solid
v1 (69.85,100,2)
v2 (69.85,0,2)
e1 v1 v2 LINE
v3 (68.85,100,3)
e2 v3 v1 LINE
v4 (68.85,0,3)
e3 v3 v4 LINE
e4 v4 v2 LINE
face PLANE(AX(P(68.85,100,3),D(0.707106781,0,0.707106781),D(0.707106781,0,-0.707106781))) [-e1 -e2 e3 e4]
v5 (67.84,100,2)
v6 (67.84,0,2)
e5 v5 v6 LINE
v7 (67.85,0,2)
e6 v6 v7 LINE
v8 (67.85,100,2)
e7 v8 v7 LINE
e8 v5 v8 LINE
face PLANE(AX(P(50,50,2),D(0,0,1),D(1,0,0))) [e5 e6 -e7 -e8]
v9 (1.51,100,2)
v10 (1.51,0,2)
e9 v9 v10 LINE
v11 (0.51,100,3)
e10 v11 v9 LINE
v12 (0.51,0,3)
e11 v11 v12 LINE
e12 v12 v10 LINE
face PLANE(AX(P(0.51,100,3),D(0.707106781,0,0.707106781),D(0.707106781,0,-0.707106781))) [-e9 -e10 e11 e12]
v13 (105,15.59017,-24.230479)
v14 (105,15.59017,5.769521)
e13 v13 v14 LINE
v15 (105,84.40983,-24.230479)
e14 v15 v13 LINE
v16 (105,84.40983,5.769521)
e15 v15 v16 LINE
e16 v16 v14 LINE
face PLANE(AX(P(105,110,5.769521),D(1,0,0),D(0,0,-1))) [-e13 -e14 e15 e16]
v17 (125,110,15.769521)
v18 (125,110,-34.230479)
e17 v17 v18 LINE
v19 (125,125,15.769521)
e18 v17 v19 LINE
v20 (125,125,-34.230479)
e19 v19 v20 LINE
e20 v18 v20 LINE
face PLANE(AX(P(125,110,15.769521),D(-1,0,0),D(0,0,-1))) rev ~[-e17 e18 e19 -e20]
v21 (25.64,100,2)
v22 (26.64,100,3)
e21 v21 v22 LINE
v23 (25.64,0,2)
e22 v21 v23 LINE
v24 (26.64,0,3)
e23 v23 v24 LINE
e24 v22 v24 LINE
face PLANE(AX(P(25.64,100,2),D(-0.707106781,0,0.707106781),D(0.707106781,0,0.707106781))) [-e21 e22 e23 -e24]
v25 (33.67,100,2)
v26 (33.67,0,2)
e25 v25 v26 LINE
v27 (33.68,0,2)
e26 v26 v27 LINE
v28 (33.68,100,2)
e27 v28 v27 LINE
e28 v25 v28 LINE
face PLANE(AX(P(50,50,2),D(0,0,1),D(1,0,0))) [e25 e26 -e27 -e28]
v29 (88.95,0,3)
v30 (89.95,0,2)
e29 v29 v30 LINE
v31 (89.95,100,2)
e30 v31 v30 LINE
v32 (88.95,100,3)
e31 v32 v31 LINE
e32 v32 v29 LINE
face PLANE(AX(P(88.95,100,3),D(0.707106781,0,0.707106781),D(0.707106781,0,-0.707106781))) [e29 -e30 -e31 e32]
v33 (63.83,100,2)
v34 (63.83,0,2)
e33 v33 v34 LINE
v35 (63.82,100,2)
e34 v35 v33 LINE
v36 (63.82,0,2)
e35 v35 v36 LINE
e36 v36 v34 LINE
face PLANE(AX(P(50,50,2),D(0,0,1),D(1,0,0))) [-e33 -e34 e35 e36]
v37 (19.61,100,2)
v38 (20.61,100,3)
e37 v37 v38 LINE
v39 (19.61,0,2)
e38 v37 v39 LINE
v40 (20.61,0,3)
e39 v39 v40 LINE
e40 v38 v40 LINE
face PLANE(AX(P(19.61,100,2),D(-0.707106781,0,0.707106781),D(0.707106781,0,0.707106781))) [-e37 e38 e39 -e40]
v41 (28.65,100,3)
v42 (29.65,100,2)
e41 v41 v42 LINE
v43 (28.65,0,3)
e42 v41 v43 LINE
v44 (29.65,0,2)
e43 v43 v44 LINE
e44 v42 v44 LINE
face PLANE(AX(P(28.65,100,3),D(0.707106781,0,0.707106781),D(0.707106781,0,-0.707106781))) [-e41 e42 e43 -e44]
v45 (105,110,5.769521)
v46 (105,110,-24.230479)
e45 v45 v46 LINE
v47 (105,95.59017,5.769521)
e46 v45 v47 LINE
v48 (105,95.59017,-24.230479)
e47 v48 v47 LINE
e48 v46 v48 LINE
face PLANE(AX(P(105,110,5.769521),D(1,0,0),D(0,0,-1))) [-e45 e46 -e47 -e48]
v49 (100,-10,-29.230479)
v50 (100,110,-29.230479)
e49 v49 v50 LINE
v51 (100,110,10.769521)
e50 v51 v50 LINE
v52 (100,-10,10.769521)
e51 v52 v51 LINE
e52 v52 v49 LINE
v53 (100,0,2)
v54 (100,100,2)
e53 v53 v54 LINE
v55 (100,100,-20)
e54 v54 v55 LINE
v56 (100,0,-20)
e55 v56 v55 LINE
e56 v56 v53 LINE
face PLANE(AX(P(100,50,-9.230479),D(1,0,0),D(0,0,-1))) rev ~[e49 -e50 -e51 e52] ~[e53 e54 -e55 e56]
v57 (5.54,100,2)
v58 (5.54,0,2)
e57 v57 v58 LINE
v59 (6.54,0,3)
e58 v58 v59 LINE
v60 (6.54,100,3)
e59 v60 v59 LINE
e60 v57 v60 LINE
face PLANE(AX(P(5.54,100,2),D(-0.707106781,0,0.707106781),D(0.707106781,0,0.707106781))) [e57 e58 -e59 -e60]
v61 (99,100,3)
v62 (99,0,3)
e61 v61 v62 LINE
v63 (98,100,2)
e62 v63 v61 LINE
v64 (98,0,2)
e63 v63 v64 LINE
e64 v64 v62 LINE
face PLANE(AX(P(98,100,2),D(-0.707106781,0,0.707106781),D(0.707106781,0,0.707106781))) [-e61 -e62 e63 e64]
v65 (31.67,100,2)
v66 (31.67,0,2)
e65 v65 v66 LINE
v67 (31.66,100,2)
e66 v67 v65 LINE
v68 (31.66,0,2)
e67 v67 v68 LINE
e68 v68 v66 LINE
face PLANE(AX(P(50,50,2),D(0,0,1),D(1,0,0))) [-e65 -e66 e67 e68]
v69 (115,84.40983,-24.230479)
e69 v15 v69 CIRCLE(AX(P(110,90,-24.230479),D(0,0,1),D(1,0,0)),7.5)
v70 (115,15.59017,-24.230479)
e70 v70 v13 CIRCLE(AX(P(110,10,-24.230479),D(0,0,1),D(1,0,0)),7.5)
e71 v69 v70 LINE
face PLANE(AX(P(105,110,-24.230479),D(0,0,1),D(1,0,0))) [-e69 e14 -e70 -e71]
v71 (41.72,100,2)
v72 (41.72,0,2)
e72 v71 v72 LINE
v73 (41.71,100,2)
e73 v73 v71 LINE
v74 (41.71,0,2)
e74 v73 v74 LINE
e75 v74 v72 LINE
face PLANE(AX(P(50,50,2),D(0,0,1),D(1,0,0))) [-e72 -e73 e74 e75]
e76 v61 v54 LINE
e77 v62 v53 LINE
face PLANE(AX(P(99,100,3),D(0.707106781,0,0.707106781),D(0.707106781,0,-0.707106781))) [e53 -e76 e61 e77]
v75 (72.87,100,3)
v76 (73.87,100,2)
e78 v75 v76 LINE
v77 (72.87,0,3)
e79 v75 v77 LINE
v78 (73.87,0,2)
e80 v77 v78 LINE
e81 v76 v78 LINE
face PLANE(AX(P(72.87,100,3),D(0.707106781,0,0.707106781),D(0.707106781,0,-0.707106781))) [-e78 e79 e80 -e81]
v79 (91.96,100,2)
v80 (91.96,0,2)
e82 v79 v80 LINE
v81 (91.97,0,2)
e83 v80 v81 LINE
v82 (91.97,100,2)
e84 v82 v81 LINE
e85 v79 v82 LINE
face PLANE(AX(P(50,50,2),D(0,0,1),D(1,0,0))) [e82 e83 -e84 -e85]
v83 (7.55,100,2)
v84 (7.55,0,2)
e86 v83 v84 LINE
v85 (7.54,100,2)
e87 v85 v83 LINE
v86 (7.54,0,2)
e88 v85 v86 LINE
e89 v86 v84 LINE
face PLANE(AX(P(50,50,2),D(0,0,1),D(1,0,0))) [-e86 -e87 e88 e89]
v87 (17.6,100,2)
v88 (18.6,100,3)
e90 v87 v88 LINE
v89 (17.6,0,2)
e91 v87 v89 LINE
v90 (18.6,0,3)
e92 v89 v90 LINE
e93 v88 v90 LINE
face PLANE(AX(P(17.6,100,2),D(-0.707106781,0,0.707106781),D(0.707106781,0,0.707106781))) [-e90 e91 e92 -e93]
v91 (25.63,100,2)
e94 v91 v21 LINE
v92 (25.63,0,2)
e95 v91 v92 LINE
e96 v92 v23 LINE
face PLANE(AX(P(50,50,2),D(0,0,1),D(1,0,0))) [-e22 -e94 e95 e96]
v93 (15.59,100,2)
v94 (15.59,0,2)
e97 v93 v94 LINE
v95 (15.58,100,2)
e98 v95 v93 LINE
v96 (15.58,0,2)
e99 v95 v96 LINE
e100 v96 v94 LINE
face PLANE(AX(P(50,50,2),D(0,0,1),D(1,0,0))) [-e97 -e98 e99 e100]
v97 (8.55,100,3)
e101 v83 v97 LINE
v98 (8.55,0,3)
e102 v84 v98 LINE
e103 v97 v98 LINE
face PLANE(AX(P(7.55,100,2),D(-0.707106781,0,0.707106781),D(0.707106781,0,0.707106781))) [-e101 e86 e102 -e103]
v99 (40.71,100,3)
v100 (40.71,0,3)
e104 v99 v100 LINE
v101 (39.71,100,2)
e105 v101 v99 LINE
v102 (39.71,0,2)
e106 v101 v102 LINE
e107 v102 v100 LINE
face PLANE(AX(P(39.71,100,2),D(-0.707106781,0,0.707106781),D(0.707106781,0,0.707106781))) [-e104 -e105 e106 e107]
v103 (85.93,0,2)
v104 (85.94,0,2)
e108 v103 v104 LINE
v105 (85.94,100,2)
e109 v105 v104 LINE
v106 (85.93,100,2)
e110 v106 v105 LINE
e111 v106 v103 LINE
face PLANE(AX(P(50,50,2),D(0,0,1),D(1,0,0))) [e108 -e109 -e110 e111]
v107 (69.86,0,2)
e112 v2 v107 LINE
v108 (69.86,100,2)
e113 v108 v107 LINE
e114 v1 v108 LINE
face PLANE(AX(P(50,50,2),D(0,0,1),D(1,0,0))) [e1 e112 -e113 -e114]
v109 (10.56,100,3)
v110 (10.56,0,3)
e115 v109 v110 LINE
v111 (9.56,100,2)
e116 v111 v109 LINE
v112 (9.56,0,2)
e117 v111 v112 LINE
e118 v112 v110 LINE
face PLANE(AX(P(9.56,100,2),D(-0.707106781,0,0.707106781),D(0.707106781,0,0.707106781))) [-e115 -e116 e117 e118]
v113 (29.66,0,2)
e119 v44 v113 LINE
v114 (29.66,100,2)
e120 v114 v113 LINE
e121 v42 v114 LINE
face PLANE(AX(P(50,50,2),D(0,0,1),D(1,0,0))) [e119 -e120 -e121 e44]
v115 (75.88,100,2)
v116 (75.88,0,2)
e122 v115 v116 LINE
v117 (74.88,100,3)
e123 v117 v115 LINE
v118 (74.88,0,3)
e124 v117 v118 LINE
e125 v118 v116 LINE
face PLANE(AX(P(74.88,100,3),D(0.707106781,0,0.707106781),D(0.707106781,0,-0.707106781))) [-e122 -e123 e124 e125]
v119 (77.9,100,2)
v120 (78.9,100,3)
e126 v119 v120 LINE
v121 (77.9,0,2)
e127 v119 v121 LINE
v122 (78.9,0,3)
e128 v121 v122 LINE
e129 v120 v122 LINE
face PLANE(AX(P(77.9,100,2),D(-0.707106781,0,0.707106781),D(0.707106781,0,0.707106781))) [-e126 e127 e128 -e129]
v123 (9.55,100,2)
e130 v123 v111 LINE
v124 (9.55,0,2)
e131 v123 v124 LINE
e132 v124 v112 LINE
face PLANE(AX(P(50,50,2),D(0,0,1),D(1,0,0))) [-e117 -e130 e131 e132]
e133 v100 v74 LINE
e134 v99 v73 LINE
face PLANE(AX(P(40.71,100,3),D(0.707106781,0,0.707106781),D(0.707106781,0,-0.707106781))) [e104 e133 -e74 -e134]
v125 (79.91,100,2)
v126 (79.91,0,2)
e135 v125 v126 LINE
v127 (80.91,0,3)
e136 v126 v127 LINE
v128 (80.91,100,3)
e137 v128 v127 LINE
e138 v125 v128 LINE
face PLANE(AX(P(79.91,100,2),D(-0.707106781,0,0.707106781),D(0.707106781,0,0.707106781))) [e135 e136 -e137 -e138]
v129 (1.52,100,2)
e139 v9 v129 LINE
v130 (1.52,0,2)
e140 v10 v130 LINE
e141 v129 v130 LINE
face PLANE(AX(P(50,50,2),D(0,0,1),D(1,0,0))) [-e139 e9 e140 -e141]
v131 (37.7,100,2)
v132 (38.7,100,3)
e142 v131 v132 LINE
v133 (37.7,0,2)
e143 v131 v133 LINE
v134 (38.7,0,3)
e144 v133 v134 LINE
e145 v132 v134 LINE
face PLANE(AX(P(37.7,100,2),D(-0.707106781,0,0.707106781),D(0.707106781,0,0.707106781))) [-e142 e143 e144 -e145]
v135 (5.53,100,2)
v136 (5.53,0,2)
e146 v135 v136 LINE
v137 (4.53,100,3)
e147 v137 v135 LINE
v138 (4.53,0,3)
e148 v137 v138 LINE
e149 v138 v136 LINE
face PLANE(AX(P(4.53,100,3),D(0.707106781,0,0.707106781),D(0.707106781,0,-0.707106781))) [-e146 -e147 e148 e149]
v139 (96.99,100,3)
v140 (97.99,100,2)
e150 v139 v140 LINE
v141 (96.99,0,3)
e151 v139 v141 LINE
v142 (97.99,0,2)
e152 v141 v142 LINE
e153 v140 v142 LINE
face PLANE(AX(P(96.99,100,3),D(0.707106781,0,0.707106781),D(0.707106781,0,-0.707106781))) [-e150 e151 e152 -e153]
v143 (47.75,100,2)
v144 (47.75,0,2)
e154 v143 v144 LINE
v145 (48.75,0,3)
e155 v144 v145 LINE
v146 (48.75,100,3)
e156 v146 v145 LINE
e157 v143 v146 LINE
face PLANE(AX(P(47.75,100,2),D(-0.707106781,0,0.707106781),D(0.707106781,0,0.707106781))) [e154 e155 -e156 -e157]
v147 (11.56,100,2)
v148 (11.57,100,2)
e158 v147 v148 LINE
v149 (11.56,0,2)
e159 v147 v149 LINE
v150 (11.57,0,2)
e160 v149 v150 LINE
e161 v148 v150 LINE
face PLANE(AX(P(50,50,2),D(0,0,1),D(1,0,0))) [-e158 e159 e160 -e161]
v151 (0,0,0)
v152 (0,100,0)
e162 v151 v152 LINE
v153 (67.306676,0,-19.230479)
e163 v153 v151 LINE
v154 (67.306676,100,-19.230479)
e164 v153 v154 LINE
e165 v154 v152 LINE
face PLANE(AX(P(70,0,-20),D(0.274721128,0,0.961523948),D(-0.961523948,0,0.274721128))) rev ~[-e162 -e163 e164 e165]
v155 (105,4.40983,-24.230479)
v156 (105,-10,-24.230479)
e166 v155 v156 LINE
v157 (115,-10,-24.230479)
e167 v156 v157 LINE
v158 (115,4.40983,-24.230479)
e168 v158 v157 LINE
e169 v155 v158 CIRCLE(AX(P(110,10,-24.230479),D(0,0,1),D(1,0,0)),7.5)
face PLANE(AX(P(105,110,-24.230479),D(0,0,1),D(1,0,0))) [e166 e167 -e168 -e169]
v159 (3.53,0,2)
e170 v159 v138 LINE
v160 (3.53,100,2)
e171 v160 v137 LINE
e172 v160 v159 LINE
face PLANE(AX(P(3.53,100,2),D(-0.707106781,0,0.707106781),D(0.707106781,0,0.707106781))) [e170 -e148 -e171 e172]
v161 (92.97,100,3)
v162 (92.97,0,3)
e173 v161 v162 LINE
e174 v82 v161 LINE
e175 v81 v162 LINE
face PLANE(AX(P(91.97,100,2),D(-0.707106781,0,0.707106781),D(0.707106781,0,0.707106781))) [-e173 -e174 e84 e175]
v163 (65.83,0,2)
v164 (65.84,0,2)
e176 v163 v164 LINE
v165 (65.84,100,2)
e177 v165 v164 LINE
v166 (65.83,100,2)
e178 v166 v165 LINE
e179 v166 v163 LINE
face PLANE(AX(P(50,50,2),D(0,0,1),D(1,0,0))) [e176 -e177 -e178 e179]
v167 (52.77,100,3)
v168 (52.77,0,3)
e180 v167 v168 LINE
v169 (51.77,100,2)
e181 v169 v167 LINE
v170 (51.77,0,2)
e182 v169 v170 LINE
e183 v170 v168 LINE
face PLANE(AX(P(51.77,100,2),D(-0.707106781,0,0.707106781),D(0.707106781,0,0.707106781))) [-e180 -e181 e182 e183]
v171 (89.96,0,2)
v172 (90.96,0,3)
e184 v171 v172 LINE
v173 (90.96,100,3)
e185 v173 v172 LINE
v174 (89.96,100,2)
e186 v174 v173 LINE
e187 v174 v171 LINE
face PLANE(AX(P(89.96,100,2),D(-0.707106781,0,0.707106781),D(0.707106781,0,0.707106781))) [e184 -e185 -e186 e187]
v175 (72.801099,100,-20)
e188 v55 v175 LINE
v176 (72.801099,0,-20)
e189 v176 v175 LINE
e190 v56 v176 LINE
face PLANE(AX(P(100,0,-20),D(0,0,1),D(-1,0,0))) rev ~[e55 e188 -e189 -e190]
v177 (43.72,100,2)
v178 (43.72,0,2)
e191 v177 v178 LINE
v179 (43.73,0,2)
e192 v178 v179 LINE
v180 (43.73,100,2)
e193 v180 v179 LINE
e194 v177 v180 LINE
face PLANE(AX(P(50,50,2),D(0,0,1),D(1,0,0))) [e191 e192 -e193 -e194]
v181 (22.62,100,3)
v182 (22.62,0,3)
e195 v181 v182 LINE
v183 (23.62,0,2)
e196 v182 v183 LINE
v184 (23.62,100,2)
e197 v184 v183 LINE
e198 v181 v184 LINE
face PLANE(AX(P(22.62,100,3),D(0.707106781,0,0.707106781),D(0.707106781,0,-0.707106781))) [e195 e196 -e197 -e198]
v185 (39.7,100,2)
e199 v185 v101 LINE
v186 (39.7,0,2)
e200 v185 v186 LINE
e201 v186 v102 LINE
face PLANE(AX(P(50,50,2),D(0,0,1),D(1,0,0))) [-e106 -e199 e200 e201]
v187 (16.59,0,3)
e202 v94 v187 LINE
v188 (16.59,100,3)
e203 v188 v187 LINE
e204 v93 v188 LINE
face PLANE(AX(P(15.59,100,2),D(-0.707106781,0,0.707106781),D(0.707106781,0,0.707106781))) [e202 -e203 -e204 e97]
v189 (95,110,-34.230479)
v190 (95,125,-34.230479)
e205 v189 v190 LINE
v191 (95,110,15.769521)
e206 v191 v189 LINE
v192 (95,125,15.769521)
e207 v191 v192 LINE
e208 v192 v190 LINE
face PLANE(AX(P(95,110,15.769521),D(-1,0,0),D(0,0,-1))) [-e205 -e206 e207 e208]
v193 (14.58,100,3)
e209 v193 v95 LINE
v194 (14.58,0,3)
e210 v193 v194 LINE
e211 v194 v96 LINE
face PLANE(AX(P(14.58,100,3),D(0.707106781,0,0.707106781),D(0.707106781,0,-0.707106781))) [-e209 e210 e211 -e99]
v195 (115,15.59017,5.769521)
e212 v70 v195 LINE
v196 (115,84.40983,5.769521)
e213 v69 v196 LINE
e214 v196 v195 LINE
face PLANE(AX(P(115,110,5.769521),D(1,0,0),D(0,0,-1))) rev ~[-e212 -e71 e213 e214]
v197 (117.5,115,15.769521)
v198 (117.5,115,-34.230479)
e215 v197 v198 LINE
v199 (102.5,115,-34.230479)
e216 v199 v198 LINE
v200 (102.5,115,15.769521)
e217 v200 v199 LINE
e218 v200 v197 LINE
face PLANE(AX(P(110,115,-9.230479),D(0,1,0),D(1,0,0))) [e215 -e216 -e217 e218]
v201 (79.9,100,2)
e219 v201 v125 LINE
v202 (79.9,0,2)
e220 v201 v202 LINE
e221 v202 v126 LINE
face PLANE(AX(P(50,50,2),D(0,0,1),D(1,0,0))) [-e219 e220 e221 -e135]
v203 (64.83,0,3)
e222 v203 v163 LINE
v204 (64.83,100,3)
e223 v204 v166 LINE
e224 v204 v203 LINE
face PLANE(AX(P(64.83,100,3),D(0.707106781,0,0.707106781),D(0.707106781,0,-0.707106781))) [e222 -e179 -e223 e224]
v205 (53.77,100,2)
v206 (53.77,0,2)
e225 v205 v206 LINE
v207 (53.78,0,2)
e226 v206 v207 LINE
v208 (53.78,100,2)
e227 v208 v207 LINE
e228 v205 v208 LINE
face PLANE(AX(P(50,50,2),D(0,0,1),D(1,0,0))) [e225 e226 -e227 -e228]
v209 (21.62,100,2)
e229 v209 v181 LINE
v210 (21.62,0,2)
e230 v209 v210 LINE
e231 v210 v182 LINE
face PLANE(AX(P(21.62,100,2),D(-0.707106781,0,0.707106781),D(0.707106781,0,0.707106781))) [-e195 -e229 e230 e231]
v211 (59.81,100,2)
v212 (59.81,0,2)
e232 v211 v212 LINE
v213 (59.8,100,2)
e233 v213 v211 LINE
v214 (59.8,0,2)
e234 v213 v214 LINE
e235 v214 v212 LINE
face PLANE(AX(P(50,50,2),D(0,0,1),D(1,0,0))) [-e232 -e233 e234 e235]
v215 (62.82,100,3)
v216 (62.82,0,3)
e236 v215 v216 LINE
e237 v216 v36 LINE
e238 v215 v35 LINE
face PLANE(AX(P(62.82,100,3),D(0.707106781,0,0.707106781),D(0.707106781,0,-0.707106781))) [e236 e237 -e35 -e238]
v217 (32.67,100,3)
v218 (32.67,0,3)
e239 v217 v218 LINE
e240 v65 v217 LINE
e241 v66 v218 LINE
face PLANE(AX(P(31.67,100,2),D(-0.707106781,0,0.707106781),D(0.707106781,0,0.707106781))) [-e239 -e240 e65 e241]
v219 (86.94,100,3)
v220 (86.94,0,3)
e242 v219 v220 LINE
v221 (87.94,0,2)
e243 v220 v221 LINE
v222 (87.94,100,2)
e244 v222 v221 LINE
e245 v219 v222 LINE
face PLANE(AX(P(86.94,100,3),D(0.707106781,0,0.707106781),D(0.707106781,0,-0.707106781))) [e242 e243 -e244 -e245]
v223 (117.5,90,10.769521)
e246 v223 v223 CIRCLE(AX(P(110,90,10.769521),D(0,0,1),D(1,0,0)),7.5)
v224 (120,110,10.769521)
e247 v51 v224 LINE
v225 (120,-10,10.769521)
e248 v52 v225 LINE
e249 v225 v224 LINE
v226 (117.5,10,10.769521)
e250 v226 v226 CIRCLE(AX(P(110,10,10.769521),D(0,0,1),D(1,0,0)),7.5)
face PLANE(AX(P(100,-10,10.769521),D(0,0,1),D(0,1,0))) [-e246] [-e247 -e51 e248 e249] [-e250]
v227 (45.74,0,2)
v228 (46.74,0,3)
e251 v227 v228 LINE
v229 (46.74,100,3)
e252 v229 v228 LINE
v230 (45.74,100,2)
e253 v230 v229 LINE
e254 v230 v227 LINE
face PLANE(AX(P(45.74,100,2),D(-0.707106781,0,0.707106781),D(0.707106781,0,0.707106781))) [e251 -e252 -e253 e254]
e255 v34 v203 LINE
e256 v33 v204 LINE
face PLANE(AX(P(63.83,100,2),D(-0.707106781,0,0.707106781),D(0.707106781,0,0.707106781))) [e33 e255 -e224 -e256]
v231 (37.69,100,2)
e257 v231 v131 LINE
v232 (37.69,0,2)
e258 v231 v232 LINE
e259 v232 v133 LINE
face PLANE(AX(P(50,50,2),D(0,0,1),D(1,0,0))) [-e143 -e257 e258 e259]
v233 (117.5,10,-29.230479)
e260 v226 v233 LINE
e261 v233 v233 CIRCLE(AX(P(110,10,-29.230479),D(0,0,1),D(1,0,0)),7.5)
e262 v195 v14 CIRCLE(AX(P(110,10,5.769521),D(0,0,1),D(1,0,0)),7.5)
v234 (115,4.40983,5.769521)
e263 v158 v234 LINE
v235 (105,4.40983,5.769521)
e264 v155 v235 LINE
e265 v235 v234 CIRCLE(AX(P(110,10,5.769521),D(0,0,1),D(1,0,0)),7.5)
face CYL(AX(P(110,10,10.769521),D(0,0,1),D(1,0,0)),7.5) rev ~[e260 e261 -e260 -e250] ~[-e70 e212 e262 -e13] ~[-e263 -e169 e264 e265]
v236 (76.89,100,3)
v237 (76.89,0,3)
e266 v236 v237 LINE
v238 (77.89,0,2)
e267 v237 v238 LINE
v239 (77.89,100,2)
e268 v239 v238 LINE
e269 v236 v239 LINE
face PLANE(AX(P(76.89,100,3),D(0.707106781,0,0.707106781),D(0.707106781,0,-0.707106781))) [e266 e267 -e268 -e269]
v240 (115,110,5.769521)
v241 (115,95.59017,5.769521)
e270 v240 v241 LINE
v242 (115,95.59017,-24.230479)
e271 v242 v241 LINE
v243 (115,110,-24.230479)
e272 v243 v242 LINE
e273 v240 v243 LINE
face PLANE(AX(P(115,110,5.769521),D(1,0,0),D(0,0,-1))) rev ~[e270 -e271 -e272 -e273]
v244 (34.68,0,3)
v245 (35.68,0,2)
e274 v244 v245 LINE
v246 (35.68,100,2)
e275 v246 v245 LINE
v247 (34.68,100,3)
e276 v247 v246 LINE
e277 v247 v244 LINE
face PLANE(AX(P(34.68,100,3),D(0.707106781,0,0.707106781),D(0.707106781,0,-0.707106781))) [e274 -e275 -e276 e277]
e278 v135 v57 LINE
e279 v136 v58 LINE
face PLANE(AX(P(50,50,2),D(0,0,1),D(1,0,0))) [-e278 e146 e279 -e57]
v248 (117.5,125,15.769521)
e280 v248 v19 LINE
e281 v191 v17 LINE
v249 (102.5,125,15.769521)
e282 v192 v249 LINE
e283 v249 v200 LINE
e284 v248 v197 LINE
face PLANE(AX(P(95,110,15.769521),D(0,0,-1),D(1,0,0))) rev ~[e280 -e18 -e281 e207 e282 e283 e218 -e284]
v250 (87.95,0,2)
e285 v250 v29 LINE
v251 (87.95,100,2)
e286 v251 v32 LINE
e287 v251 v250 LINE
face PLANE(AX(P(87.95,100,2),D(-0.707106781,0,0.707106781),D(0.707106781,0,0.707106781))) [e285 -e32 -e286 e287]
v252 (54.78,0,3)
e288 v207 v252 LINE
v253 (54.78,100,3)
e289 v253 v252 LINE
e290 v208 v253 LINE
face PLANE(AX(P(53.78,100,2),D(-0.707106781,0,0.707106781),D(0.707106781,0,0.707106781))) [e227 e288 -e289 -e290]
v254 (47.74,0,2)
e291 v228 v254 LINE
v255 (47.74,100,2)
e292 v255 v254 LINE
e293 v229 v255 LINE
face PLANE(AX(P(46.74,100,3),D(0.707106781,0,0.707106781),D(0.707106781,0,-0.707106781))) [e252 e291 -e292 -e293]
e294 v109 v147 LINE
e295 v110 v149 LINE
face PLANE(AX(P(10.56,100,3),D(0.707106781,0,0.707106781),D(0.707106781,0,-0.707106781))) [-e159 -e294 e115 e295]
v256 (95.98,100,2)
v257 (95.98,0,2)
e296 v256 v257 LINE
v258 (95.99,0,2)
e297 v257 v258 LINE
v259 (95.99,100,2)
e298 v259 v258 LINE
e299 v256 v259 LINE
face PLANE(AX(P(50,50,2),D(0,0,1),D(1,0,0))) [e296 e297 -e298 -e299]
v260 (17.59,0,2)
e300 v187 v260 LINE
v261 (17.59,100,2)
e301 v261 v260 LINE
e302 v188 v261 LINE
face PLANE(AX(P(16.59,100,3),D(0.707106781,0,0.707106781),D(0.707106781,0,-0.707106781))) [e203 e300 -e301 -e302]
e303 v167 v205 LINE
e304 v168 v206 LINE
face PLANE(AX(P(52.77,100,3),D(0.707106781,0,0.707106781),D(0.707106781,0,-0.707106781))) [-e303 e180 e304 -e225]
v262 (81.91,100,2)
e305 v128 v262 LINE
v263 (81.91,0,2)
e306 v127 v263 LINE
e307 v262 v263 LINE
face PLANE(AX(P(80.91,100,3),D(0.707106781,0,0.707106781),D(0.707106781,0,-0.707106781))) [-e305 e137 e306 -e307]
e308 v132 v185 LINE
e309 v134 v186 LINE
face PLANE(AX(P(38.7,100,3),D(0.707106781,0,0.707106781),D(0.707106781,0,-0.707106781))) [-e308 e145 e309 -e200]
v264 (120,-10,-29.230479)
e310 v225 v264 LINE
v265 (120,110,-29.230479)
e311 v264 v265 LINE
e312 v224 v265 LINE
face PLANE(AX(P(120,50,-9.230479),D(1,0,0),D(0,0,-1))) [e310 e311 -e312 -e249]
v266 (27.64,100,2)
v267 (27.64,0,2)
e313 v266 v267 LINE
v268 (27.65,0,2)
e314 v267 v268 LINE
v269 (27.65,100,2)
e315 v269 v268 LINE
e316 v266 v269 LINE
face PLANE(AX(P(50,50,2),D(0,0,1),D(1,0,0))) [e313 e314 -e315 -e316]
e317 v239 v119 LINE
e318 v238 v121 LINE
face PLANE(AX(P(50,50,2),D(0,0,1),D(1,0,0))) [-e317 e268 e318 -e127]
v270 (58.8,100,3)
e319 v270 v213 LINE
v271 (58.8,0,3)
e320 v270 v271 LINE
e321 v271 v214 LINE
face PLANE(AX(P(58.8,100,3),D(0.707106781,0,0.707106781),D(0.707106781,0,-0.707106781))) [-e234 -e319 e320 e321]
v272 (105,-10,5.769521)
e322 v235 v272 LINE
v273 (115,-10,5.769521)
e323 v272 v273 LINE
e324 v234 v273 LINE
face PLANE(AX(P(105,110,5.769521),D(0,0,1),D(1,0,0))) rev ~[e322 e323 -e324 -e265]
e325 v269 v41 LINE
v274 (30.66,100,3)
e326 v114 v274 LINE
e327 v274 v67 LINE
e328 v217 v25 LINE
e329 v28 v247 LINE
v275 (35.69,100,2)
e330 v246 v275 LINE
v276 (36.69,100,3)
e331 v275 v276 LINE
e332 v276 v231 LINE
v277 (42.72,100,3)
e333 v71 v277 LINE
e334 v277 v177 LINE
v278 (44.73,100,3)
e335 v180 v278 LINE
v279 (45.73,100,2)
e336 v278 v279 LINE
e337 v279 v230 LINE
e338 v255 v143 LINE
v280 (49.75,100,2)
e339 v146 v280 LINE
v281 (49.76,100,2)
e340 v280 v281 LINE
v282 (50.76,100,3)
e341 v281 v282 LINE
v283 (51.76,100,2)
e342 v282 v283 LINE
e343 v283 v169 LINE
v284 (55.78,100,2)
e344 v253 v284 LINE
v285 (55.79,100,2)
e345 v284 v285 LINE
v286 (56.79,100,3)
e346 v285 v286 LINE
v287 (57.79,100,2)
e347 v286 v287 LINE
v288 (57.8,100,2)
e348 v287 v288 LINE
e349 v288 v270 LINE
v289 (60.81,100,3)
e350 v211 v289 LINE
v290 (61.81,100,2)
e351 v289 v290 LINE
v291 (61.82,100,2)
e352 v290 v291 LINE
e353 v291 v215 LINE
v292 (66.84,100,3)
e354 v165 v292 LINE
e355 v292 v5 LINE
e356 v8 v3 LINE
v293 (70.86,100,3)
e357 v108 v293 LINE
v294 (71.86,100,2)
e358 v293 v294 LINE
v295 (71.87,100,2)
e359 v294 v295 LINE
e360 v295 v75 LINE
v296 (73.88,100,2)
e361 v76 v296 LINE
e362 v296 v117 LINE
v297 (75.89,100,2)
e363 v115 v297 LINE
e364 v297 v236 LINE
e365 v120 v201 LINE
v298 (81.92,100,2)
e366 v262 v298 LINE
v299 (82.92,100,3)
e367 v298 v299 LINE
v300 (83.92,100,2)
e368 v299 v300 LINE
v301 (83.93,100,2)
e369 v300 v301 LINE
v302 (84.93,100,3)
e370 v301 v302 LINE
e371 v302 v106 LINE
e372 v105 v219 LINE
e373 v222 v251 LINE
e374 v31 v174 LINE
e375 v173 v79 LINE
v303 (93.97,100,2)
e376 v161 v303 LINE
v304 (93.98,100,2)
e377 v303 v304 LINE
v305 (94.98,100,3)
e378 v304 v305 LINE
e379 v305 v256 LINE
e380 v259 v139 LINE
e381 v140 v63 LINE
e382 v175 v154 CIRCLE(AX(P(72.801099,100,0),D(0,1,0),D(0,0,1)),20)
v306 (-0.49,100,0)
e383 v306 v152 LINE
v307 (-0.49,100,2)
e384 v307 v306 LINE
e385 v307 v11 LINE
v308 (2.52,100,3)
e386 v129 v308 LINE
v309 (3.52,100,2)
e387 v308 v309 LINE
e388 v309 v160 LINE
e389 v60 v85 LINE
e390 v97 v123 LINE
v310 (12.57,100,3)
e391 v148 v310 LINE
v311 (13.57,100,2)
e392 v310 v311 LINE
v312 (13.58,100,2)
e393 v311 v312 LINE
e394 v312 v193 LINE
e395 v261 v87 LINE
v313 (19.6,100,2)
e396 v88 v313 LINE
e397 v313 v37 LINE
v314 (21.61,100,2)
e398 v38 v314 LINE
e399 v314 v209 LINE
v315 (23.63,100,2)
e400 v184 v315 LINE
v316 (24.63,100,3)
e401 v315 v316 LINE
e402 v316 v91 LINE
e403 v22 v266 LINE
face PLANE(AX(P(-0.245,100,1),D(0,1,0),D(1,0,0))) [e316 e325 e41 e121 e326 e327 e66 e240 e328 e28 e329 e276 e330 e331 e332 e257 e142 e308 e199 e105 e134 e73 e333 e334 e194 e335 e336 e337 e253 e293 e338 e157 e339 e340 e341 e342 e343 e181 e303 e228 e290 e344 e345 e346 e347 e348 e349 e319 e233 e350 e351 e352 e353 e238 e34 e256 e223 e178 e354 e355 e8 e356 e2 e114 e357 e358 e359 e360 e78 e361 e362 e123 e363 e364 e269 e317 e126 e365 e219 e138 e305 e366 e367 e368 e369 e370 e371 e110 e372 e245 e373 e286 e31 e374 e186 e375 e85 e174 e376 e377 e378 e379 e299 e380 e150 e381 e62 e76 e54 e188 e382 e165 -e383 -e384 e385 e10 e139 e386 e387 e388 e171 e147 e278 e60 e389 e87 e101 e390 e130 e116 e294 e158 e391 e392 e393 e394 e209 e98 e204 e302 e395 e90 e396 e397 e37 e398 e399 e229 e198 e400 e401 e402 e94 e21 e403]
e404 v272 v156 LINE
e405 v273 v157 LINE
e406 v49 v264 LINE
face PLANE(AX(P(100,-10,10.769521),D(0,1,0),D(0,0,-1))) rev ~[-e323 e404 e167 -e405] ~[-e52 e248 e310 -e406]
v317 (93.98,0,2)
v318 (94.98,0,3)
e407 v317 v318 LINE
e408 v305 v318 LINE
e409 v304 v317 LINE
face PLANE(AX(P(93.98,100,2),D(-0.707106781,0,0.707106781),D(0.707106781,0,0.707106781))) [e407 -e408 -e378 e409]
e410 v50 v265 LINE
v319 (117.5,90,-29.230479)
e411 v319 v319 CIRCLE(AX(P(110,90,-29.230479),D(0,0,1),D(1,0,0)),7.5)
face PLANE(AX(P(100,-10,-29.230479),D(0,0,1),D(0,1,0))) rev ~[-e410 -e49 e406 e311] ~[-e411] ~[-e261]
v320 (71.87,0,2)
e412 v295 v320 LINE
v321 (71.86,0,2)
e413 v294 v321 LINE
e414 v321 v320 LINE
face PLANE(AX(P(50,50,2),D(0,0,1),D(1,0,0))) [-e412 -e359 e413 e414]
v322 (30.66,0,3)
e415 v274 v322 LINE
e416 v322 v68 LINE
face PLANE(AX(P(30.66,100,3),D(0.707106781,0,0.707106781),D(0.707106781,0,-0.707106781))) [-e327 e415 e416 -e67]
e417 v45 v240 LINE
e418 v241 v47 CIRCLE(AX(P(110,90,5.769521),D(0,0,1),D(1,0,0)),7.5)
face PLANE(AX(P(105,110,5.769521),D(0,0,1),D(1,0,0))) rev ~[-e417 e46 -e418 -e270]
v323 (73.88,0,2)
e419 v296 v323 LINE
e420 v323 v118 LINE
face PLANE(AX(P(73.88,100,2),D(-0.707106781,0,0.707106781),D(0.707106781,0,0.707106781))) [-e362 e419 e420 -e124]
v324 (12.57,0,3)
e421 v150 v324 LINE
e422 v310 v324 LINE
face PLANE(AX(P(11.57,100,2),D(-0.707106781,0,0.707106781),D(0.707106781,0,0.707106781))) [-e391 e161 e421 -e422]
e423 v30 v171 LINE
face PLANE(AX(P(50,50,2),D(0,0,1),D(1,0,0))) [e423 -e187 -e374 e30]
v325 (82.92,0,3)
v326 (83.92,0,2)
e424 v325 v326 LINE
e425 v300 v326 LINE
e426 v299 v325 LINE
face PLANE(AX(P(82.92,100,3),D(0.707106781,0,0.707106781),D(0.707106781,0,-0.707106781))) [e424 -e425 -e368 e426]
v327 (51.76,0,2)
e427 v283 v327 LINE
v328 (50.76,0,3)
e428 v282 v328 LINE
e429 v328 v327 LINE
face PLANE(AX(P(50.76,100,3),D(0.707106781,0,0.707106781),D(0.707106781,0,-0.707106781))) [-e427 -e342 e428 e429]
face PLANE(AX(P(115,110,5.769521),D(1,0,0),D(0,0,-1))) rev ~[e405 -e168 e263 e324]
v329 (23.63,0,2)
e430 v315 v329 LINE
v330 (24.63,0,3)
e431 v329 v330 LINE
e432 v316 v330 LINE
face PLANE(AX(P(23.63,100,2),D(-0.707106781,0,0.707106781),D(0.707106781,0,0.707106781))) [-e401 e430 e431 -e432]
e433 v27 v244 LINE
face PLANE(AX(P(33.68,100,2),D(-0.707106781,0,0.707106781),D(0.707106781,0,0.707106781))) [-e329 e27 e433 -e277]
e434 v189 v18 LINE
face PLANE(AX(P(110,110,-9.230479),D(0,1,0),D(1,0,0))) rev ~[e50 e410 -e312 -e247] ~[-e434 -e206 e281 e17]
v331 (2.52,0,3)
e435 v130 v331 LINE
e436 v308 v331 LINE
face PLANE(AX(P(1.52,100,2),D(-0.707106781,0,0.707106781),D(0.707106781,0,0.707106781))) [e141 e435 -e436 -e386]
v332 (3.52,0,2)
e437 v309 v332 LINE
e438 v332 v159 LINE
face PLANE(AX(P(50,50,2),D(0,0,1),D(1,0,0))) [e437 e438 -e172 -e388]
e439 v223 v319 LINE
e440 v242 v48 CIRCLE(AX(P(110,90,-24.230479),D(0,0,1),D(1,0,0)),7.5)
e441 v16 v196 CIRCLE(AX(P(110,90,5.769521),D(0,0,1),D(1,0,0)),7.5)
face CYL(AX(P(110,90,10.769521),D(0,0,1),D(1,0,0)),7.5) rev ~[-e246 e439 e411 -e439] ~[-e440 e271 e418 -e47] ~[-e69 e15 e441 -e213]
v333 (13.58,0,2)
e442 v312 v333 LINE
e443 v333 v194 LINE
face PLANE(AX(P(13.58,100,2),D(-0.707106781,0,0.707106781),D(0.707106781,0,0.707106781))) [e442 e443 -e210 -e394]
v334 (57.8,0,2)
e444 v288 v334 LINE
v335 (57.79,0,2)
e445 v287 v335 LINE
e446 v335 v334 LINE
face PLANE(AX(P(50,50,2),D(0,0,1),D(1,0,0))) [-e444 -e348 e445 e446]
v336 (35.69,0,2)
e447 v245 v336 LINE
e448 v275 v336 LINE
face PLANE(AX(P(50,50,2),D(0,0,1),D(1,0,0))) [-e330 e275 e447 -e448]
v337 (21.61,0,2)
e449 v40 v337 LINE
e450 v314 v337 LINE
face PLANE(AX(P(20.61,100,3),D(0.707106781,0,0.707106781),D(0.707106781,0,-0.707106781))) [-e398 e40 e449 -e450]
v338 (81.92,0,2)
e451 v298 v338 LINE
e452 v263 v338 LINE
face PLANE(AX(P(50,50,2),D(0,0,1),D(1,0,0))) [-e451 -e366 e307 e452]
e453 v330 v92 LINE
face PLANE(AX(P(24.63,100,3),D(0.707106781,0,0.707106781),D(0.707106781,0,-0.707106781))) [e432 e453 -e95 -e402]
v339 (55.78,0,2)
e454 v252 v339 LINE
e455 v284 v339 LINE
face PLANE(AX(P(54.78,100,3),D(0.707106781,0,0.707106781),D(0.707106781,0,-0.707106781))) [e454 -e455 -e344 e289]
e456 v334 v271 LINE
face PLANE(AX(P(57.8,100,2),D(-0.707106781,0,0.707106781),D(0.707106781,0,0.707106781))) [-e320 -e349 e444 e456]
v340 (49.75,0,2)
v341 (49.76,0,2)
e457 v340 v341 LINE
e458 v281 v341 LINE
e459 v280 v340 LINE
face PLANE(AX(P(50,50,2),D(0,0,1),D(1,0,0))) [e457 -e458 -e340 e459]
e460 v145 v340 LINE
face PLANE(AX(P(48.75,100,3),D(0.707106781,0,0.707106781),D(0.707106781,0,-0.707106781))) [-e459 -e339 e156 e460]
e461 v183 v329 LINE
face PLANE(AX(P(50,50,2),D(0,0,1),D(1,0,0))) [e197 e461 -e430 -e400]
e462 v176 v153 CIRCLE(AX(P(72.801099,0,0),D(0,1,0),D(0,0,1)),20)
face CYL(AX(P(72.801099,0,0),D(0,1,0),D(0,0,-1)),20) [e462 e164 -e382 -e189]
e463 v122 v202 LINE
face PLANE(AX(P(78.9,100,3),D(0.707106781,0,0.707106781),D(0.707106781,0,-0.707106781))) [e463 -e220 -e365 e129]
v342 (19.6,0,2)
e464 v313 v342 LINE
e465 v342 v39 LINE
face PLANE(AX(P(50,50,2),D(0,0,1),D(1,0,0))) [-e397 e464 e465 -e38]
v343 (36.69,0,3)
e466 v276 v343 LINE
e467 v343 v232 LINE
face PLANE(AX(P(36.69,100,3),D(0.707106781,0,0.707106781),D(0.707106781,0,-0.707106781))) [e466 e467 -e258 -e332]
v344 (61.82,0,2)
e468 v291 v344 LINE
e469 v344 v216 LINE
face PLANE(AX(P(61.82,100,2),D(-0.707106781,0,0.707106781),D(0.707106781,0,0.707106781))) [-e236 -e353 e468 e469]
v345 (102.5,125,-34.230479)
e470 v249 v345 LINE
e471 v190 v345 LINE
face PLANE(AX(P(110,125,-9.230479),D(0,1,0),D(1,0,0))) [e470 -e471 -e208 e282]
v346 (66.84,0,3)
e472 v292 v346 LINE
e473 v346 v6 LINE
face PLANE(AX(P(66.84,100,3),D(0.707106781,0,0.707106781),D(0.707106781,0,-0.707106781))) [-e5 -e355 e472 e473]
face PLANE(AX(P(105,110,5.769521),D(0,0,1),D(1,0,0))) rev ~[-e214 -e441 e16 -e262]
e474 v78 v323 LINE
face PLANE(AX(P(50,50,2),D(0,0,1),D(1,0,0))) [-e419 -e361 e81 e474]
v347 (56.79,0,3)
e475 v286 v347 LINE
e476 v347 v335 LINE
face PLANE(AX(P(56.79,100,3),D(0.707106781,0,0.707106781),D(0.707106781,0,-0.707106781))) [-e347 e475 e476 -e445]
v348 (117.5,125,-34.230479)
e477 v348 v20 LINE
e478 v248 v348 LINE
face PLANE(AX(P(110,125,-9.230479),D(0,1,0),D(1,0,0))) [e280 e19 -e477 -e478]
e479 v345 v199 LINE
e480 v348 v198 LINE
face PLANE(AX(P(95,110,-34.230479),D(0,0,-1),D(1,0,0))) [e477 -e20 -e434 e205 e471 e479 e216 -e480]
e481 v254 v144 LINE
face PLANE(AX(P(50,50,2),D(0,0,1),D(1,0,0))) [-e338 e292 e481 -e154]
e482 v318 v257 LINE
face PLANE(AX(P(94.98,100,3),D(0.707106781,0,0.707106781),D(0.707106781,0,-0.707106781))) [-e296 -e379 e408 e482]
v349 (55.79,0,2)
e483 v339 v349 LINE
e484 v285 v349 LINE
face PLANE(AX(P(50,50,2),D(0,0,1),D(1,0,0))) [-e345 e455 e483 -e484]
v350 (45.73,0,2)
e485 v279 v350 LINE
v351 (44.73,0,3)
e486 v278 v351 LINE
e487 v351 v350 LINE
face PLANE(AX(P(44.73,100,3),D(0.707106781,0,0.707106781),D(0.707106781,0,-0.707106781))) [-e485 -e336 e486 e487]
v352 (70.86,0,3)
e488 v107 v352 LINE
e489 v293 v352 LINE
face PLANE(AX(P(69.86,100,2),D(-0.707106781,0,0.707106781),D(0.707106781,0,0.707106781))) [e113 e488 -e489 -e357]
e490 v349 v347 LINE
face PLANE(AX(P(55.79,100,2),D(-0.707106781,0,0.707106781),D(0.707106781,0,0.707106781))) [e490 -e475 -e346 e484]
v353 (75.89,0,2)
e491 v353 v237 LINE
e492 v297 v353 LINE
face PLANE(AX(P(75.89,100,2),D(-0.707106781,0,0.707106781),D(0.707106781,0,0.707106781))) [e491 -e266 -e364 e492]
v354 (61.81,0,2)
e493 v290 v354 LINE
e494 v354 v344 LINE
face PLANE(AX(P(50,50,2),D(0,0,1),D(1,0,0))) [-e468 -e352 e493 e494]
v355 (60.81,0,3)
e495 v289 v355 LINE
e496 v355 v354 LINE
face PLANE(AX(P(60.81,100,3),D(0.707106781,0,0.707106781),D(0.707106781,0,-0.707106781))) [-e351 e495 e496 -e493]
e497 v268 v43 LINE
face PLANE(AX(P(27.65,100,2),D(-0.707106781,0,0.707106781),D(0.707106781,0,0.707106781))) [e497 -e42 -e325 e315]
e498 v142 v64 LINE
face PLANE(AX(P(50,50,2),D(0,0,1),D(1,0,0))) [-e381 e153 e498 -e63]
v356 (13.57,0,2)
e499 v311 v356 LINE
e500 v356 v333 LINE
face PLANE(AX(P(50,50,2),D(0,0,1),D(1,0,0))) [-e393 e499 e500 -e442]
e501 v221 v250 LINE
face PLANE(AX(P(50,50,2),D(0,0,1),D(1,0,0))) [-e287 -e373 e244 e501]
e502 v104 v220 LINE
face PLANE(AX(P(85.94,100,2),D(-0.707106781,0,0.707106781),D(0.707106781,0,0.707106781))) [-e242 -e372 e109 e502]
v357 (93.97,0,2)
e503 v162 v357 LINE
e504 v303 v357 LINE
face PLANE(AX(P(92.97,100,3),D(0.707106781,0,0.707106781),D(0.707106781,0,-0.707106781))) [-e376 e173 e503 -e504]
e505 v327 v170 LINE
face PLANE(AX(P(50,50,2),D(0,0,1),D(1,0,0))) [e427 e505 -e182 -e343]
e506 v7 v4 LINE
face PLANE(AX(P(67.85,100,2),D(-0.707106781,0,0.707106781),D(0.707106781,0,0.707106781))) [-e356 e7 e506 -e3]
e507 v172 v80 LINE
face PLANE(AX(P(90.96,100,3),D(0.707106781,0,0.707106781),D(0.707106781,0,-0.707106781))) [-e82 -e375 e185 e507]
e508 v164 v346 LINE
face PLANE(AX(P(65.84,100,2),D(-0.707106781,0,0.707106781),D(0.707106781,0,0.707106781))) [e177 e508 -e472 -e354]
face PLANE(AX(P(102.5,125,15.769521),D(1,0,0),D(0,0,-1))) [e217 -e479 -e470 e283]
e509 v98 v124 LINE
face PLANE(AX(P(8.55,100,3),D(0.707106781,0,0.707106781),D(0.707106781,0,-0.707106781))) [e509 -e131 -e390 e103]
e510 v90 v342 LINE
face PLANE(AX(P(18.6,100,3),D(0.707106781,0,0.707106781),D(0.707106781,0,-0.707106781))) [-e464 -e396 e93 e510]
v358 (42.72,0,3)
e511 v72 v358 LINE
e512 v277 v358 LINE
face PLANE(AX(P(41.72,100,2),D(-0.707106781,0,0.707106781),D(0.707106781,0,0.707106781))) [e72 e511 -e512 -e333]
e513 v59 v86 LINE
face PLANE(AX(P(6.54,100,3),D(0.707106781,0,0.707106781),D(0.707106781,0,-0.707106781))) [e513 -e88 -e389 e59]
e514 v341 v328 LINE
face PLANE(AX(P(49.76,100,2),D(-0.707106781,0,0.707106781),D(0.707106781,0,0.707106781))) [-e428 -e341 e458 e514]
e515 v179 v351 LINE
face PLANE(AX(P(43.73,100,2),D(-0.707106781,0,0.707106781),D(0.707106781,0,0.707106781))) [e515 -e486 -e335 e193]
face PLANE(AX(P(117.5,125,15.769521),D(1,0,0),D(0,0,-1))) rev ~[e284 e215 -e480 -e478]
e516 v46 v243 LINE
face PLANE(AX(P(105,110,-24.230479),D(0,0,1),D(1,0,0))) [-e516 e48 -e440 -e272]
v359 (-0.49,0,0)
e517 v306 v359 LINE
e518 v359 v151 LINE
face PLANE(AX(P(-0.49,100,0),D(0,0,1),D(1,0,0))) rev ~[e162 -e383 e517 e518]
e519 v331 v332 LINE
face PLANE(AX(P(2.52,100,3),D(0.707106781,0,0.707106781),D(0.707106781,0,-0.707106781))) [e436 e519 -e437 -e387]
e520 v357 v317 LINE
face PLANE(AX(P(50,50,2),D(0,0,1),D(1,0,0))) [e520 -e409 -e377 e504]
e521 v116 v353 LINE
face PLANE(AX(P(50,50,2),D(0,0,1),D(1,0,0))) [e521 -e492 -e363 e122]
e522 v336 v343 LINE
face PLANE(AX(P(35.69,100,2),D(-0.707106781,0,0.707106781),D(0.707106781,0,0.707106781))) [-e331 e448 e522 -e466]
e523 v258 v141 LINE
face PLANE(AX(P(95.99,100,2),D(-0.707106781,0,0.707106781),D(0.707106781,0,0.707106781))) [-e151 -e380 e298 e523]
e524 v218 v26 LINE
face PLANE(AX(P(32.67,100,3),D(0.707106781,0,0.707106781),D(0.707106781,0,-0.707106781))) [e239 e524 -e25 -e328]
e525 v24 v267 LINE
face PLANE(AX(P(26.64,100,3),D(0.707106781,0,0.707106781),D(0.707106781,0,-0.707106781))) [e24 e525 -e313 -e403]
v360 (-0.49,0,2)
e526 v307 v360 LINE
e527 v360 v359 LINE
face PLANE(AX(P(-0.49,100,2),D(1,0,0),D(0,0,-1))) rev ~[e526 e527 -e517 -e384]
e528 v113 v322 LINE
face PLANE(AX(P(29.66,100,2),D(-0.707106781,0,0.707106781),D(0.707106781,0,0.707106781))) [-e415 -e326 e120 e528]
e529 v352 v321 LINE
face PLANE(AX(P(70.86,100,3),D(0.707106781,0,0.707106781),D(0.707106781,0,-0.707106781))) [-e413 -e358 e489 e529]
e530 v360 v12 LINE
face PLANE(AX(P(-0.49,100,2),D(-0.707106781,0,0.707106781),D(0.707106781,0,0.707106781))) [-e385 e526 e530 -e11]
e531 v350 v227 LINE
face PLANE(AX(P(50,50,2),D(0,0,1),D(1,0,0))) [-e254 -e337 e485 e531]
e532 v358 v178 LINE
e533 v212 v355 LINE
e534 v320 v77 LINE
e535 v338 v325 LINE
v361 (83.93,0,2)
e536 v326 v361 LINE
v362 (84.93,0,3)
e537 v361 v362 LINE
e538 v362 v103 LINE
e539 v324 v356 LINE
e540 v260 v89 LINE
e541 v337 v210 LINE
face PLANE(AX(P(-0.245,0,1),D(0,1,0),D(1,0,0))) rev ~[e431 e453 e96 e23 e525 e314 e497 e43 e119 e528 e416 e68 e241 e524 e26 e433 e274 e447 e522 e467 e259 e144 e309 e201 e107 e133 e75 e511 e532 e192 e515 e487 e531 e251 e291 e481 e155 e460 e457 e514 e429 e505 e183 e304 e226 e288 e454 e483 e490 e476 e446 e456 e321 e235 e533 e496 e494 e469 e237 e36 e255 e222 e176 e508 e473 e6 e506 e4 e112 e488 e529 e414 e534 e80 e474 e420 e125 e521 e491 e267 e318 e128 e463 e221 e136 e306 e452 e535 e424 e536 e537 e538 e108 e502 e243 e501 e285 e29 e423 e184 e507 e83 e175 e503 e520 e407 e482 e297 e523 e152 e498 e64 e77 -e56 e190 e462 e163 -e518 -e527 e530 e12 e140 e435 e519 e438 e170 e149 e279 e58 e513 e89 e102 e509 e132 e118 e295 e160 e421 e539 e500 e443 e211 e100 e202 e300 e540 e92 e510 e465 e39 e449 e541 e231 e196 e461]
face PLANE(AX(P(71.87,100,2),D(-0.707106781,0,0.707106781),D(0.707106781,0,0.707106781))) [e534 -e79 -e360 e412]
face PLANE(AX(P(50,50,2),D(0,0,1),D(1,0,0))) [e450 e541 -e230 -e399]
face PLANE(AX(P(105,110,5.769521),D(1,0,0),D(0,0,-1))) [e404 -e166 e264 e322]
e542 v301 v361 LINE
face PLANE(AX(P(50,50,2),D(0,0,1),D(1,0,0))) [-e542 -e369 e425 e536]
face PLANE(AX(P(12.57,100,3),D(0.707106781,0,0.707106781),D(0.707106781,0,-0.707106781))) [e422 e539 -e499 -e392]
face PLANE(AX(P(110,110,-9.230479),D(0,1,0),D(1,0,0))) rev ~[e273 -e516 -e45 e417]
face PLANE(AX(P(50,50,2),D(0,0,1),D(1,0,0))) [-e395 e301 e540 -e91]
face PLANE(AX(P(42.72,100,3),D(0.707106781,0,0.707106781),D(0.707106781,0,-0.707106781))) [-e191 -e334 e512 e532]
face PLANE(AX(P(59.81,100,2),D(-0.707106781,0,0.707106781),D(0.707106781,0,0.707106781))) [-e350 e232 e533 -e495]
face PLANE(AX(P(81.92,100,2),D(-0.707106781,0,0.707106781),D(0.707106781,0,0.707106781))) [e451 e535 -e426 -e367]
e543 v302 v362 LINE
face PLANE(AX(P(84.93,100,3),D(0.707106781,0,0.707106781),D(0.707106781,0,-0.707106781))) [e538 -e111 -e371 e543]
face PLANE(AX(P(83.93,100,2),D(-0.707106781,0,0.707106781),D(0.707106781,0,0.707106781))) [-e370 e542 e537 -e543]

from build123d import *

# Parameters (mm, degrees)
BOSS_EXTRUDE1_DEPTH = 100
FILLET1_R           = 20
SKETCH5_W           = 40
SKETCH5_H           = 120
BOSS_EXTRUDE2_DEPTH = 20
SKETCH6_W           = 10
SKETCH6_H           = 30
CUT_EXTRUDE1_DEPTH  = 120
SKETCH7_W           = 100
SKETCH7_H           = 100
BOSS_EXTRUDE3_DEPTH = 2
BOSS_EXTRUDE4_DEPTH = 100
SKETCH11_W          = 0.49
SKETCH11_H          = 2
BOSS_EXTRUDE5_DEPTH = 100
SKETCH12_R          = 7.5
CUT_EXTRUDE2_DEPTH  = 40
SKETCH15_W          = 30
SKETCH15_H          = 50
BOSS_EXTRUDE6_DEPTH = 15
SKETCH16_W          = 15
SKETCH16_H          = 50
CUT_EXTRUDE3_DEPTH  = 10


with BuildPart() as part:
    # Sketch3 → Boss-Extrude1 (new body)
    with BuildSketch(Plane(origin=(0, 0, 0), x_dir=(1, 0, 0), z_dir=(0, 1, 0))):
        Polygon((0, 0), (100, 0), (100, 20), (70, 20), align=None)
    extrude(amount=BOSS_EXTRUDE1_DEPTH)

    # Fillet1
    fillet1_edges = [part.edges().sort_by_distance(p)[0] for p in [
        (70, 50, -20),
    ]]
    fillet(fillet1_edges, radius=FILLET1_R)

    # Sketch5 → Boss-Extrude2 (add)
    with BuildSketch(Plane(origin=(100, 0, 0), x_dir=(0, 0, -1), z_dir=(1, 0, 0))):
        with Locations((9.230478953, 50)):
            Rectangle(SKETCH5_W, SKETCH5_H)
    extrude(amount=BOSS_EXTRUDE2_DEPTH)

    # Sketch6 → Cut-Extrude1 (cut)
    with BuildSketch(Plane(origin=(0, 110, 0), x_dir=(1, 0, 0), z_dir=(0, 1, 0))):
        with Locations((110, 9.230478953)):
            Rectangle(SKETCH6_W, SKETCH6_H)
    extrude(amount=-CUT_EXTRUDE1_DEPTH, mode=Mode.SUBTRACT)

    # Sketch7 → Boss-Extrude3 (add)
    with BuildSketch(Plane.XY):
        with Locations((50, 50)):
            Rectangle(SKETCH7_W, SKETCH7_H)
    extrude(amount=BOSS_EXTRUDE3_DEPTH)

    # Sketch10 → Boss-Extrude4 (add)
    with BuildSketch(Plane(origin=(0, 100, 0), x_dir=(1, 0, 0), z_dir=(0, 1, 0))):
        Polygon((100, -2), (98, -2), (99, -3), align=None)
        Polygon((95.99, -2), (96.99, -3), (97.99, -2), align=None)
        Polygon((93.98, -2), (94.98, -3), (95.98, -2), align=None)
        Polygon((91.97, -2), (92.97, -3), (93.97, -2), align=None)
        Polygon((89.96, -2), (90.96, -3), (91.96, -2), align=None)
        Polygon((87.95, -2), (88.95, -3), (89.95, -2), align=None)
        Polygon((85.94, -2), (86.94, -3), (87.94, -2), align=None)
        Polygon((83.93, -2), (84.93, -3), (85.93, -2), align=None)
        Polygon((81.92, -2), (82.92, -3), (83.92, -2), align=None)
        Polygon((79.91, -2), (80.91, -3), (81.91, -2), align=None)
        Polygon((77.9, -2), (78.9, -3), (79.9, -2), align=None)
        Polygon((75.89, -2), (76.89, -3), (77.89, -2), align=None)
        Polygon((73.88, -2), (74.88, -3), (75.88, -2), align=None)
        Polygon((71.87, -2), (72.87, -3), (73.87, -2), align=None)
        Polygon((69.86, -2), (70.86, -3), (71.86, -2), align=None)
        Polygon((67.85, -2), (68.85, -3), (69.85, -2), align=None)
        Polygon((65.84, -2), (66.84, -3), (67.84, -2), align=None)
        Polygon((63.83, -2), (64.83, -3), (65.83, -2), align=None)
        Polygon((61.82, -2), (62.82, -3), (63.82, -2), align=None)
        Polygon((59.81, -2), (60.81, -3), (61.81, -2), align=None)
        Polygon((57.8, -2), (58.8, -3), (59.8, -2), align=None)
        Polygon((55.79, -2), (56.79, -3), (57.79, -2), align=None)
        Polygon((53.78, -2), (54.78, -3), (55.78, -2), align=None)
        Polygon((51.77, -2), (52.77, -3), (53.77, -2), align=None)
        Polygon((49.76, -2), (50.76, -3), (51.76, -2), align=None)
        Polygon((47.75, -2), (48.75, -3), (49.75, -2), align=None)
        Polygon((45.74, -2), (46.74, -3), (47.74, -2), align=None)
        Polygon((43.73, -2), (44.73, -3), (45.73, -2), align=None)
        Polygon((41.72, -2), (42.72, -3), (43.72, -2), align=None)
        Polygon((39.71, -2), (40.71, -3), (41.71, -2), align=None)
        Polygon((37.7, -2), (38.7, -3), (39.7, -2), align=None)
        Polygon((35.69, -2), (36.69, -3), (37.69, -2), align=None)
        Polygon((33.68, -2), (34.68, -3), (35.68, -2), align=None)
        Polygon((31.67, -2), (32.67, -3), (33.67, -2), align=None)
        Polygon((29.66, -2), (30.66, -3), (31.66, -2), align=None)
        Polygon((27.65, -2), (28.65, -3), (29.65, -2), align=None)
        Polygon((25.64, -2), (26.64, -3), (27.64, -2), align=None)
        Polygon((23.63, -2), (24.63, -3), (25.63, -2), align=None)
        Polygon((21.62, -2), (22.62, -3), (23.62, -2), align=None)
        Polygon((19.61, -2), (20.61, -3), (21.61, -2), align=None)
        Polygon((17.6, -2), (18.6, -3), (19.6, -2), align=None)
        Polygon((15.59, -2), (16.59, -3), (17.59, -2), align=None)
        Polygon((13.58, -2), (14.58, -3), (15.58, -2), align=None)
        Polygon((11.57, -2), (12.57, -3), (13.57, -2), align=None)
        Polygon((9.56, -2), (10.56, -3), (11.56, -2), align=None)
        Polygon((7.55, -2), (8.55, -3), (9.55, -2), align=None)
        Polygon((5.54, -2), (6.54, -3), (7.54, -2), align=None)
        Polygon((3.53, -2), (4.53, -3), (5.53, -2), align=None)
        Polygon((1.52, -2), (2.52, -3), (3.52, -2), align=None)
        Polygon((-0.49, -2), (0.51, -3), (1.51, -2), align=None)
    extrude(amount=-BOSS_EXTRUDE4_DEPTH)

    # Sketch11 → Boss-Extrude5 (add)
    with BuildSketch(Plane(origin=(0, 100, 0), x_dir=(1, 0, 0), z_dir=(0, 1, 0))):
        with Locations((-0.245, -1)):
            Rectangle(SKETCH11_W, SKETCH11_H)
    extrude(amount=-BOSS_EXTRUDE5_DEPTH)

    # Sketch12 → Cut-Extrude2 (cut)
    with BuildSketch(Plane.XY.offset(10.769521047)):
        with Locations((110, 10)):
            Circle(SKETCH12_R)
        with Locations((110, 90)):
            Circle(SKETCH12_R)
    extrude(amount=-CUT_EXTRUDE2_DEPTH, mode=Mode.SUBTRACT)

    # Sketch15 → Boss-Extrude6 (add)
    with BuildSketch(Plane(origin=(0, 110, 0), x_dir=(1, 0, 0), z_dir=(0, 1, 0))):
        with Locations((110, 9.230478953)):
            Rectangle(SKETCH15_W, SKETCH15_H)
    extrude(amount=BOSS_EXTRUDE6_DEPTH)

    # Sketch16 → Cut-Extrude3 (cut)
    with BuildSketch(Plane(origin=(0, 125, 0), x_dir=(1, 0, 0), z_dir=(0, 1, 0))):
        with Locations((110, 9.230478953)):
            Rectangle(SKETCH16_W, SKETCH16_H)
    extrude(amount=-CUT_EXTRUDE3_DEPTH, mode=Mode.SUBTRACT)


solid = part.part
